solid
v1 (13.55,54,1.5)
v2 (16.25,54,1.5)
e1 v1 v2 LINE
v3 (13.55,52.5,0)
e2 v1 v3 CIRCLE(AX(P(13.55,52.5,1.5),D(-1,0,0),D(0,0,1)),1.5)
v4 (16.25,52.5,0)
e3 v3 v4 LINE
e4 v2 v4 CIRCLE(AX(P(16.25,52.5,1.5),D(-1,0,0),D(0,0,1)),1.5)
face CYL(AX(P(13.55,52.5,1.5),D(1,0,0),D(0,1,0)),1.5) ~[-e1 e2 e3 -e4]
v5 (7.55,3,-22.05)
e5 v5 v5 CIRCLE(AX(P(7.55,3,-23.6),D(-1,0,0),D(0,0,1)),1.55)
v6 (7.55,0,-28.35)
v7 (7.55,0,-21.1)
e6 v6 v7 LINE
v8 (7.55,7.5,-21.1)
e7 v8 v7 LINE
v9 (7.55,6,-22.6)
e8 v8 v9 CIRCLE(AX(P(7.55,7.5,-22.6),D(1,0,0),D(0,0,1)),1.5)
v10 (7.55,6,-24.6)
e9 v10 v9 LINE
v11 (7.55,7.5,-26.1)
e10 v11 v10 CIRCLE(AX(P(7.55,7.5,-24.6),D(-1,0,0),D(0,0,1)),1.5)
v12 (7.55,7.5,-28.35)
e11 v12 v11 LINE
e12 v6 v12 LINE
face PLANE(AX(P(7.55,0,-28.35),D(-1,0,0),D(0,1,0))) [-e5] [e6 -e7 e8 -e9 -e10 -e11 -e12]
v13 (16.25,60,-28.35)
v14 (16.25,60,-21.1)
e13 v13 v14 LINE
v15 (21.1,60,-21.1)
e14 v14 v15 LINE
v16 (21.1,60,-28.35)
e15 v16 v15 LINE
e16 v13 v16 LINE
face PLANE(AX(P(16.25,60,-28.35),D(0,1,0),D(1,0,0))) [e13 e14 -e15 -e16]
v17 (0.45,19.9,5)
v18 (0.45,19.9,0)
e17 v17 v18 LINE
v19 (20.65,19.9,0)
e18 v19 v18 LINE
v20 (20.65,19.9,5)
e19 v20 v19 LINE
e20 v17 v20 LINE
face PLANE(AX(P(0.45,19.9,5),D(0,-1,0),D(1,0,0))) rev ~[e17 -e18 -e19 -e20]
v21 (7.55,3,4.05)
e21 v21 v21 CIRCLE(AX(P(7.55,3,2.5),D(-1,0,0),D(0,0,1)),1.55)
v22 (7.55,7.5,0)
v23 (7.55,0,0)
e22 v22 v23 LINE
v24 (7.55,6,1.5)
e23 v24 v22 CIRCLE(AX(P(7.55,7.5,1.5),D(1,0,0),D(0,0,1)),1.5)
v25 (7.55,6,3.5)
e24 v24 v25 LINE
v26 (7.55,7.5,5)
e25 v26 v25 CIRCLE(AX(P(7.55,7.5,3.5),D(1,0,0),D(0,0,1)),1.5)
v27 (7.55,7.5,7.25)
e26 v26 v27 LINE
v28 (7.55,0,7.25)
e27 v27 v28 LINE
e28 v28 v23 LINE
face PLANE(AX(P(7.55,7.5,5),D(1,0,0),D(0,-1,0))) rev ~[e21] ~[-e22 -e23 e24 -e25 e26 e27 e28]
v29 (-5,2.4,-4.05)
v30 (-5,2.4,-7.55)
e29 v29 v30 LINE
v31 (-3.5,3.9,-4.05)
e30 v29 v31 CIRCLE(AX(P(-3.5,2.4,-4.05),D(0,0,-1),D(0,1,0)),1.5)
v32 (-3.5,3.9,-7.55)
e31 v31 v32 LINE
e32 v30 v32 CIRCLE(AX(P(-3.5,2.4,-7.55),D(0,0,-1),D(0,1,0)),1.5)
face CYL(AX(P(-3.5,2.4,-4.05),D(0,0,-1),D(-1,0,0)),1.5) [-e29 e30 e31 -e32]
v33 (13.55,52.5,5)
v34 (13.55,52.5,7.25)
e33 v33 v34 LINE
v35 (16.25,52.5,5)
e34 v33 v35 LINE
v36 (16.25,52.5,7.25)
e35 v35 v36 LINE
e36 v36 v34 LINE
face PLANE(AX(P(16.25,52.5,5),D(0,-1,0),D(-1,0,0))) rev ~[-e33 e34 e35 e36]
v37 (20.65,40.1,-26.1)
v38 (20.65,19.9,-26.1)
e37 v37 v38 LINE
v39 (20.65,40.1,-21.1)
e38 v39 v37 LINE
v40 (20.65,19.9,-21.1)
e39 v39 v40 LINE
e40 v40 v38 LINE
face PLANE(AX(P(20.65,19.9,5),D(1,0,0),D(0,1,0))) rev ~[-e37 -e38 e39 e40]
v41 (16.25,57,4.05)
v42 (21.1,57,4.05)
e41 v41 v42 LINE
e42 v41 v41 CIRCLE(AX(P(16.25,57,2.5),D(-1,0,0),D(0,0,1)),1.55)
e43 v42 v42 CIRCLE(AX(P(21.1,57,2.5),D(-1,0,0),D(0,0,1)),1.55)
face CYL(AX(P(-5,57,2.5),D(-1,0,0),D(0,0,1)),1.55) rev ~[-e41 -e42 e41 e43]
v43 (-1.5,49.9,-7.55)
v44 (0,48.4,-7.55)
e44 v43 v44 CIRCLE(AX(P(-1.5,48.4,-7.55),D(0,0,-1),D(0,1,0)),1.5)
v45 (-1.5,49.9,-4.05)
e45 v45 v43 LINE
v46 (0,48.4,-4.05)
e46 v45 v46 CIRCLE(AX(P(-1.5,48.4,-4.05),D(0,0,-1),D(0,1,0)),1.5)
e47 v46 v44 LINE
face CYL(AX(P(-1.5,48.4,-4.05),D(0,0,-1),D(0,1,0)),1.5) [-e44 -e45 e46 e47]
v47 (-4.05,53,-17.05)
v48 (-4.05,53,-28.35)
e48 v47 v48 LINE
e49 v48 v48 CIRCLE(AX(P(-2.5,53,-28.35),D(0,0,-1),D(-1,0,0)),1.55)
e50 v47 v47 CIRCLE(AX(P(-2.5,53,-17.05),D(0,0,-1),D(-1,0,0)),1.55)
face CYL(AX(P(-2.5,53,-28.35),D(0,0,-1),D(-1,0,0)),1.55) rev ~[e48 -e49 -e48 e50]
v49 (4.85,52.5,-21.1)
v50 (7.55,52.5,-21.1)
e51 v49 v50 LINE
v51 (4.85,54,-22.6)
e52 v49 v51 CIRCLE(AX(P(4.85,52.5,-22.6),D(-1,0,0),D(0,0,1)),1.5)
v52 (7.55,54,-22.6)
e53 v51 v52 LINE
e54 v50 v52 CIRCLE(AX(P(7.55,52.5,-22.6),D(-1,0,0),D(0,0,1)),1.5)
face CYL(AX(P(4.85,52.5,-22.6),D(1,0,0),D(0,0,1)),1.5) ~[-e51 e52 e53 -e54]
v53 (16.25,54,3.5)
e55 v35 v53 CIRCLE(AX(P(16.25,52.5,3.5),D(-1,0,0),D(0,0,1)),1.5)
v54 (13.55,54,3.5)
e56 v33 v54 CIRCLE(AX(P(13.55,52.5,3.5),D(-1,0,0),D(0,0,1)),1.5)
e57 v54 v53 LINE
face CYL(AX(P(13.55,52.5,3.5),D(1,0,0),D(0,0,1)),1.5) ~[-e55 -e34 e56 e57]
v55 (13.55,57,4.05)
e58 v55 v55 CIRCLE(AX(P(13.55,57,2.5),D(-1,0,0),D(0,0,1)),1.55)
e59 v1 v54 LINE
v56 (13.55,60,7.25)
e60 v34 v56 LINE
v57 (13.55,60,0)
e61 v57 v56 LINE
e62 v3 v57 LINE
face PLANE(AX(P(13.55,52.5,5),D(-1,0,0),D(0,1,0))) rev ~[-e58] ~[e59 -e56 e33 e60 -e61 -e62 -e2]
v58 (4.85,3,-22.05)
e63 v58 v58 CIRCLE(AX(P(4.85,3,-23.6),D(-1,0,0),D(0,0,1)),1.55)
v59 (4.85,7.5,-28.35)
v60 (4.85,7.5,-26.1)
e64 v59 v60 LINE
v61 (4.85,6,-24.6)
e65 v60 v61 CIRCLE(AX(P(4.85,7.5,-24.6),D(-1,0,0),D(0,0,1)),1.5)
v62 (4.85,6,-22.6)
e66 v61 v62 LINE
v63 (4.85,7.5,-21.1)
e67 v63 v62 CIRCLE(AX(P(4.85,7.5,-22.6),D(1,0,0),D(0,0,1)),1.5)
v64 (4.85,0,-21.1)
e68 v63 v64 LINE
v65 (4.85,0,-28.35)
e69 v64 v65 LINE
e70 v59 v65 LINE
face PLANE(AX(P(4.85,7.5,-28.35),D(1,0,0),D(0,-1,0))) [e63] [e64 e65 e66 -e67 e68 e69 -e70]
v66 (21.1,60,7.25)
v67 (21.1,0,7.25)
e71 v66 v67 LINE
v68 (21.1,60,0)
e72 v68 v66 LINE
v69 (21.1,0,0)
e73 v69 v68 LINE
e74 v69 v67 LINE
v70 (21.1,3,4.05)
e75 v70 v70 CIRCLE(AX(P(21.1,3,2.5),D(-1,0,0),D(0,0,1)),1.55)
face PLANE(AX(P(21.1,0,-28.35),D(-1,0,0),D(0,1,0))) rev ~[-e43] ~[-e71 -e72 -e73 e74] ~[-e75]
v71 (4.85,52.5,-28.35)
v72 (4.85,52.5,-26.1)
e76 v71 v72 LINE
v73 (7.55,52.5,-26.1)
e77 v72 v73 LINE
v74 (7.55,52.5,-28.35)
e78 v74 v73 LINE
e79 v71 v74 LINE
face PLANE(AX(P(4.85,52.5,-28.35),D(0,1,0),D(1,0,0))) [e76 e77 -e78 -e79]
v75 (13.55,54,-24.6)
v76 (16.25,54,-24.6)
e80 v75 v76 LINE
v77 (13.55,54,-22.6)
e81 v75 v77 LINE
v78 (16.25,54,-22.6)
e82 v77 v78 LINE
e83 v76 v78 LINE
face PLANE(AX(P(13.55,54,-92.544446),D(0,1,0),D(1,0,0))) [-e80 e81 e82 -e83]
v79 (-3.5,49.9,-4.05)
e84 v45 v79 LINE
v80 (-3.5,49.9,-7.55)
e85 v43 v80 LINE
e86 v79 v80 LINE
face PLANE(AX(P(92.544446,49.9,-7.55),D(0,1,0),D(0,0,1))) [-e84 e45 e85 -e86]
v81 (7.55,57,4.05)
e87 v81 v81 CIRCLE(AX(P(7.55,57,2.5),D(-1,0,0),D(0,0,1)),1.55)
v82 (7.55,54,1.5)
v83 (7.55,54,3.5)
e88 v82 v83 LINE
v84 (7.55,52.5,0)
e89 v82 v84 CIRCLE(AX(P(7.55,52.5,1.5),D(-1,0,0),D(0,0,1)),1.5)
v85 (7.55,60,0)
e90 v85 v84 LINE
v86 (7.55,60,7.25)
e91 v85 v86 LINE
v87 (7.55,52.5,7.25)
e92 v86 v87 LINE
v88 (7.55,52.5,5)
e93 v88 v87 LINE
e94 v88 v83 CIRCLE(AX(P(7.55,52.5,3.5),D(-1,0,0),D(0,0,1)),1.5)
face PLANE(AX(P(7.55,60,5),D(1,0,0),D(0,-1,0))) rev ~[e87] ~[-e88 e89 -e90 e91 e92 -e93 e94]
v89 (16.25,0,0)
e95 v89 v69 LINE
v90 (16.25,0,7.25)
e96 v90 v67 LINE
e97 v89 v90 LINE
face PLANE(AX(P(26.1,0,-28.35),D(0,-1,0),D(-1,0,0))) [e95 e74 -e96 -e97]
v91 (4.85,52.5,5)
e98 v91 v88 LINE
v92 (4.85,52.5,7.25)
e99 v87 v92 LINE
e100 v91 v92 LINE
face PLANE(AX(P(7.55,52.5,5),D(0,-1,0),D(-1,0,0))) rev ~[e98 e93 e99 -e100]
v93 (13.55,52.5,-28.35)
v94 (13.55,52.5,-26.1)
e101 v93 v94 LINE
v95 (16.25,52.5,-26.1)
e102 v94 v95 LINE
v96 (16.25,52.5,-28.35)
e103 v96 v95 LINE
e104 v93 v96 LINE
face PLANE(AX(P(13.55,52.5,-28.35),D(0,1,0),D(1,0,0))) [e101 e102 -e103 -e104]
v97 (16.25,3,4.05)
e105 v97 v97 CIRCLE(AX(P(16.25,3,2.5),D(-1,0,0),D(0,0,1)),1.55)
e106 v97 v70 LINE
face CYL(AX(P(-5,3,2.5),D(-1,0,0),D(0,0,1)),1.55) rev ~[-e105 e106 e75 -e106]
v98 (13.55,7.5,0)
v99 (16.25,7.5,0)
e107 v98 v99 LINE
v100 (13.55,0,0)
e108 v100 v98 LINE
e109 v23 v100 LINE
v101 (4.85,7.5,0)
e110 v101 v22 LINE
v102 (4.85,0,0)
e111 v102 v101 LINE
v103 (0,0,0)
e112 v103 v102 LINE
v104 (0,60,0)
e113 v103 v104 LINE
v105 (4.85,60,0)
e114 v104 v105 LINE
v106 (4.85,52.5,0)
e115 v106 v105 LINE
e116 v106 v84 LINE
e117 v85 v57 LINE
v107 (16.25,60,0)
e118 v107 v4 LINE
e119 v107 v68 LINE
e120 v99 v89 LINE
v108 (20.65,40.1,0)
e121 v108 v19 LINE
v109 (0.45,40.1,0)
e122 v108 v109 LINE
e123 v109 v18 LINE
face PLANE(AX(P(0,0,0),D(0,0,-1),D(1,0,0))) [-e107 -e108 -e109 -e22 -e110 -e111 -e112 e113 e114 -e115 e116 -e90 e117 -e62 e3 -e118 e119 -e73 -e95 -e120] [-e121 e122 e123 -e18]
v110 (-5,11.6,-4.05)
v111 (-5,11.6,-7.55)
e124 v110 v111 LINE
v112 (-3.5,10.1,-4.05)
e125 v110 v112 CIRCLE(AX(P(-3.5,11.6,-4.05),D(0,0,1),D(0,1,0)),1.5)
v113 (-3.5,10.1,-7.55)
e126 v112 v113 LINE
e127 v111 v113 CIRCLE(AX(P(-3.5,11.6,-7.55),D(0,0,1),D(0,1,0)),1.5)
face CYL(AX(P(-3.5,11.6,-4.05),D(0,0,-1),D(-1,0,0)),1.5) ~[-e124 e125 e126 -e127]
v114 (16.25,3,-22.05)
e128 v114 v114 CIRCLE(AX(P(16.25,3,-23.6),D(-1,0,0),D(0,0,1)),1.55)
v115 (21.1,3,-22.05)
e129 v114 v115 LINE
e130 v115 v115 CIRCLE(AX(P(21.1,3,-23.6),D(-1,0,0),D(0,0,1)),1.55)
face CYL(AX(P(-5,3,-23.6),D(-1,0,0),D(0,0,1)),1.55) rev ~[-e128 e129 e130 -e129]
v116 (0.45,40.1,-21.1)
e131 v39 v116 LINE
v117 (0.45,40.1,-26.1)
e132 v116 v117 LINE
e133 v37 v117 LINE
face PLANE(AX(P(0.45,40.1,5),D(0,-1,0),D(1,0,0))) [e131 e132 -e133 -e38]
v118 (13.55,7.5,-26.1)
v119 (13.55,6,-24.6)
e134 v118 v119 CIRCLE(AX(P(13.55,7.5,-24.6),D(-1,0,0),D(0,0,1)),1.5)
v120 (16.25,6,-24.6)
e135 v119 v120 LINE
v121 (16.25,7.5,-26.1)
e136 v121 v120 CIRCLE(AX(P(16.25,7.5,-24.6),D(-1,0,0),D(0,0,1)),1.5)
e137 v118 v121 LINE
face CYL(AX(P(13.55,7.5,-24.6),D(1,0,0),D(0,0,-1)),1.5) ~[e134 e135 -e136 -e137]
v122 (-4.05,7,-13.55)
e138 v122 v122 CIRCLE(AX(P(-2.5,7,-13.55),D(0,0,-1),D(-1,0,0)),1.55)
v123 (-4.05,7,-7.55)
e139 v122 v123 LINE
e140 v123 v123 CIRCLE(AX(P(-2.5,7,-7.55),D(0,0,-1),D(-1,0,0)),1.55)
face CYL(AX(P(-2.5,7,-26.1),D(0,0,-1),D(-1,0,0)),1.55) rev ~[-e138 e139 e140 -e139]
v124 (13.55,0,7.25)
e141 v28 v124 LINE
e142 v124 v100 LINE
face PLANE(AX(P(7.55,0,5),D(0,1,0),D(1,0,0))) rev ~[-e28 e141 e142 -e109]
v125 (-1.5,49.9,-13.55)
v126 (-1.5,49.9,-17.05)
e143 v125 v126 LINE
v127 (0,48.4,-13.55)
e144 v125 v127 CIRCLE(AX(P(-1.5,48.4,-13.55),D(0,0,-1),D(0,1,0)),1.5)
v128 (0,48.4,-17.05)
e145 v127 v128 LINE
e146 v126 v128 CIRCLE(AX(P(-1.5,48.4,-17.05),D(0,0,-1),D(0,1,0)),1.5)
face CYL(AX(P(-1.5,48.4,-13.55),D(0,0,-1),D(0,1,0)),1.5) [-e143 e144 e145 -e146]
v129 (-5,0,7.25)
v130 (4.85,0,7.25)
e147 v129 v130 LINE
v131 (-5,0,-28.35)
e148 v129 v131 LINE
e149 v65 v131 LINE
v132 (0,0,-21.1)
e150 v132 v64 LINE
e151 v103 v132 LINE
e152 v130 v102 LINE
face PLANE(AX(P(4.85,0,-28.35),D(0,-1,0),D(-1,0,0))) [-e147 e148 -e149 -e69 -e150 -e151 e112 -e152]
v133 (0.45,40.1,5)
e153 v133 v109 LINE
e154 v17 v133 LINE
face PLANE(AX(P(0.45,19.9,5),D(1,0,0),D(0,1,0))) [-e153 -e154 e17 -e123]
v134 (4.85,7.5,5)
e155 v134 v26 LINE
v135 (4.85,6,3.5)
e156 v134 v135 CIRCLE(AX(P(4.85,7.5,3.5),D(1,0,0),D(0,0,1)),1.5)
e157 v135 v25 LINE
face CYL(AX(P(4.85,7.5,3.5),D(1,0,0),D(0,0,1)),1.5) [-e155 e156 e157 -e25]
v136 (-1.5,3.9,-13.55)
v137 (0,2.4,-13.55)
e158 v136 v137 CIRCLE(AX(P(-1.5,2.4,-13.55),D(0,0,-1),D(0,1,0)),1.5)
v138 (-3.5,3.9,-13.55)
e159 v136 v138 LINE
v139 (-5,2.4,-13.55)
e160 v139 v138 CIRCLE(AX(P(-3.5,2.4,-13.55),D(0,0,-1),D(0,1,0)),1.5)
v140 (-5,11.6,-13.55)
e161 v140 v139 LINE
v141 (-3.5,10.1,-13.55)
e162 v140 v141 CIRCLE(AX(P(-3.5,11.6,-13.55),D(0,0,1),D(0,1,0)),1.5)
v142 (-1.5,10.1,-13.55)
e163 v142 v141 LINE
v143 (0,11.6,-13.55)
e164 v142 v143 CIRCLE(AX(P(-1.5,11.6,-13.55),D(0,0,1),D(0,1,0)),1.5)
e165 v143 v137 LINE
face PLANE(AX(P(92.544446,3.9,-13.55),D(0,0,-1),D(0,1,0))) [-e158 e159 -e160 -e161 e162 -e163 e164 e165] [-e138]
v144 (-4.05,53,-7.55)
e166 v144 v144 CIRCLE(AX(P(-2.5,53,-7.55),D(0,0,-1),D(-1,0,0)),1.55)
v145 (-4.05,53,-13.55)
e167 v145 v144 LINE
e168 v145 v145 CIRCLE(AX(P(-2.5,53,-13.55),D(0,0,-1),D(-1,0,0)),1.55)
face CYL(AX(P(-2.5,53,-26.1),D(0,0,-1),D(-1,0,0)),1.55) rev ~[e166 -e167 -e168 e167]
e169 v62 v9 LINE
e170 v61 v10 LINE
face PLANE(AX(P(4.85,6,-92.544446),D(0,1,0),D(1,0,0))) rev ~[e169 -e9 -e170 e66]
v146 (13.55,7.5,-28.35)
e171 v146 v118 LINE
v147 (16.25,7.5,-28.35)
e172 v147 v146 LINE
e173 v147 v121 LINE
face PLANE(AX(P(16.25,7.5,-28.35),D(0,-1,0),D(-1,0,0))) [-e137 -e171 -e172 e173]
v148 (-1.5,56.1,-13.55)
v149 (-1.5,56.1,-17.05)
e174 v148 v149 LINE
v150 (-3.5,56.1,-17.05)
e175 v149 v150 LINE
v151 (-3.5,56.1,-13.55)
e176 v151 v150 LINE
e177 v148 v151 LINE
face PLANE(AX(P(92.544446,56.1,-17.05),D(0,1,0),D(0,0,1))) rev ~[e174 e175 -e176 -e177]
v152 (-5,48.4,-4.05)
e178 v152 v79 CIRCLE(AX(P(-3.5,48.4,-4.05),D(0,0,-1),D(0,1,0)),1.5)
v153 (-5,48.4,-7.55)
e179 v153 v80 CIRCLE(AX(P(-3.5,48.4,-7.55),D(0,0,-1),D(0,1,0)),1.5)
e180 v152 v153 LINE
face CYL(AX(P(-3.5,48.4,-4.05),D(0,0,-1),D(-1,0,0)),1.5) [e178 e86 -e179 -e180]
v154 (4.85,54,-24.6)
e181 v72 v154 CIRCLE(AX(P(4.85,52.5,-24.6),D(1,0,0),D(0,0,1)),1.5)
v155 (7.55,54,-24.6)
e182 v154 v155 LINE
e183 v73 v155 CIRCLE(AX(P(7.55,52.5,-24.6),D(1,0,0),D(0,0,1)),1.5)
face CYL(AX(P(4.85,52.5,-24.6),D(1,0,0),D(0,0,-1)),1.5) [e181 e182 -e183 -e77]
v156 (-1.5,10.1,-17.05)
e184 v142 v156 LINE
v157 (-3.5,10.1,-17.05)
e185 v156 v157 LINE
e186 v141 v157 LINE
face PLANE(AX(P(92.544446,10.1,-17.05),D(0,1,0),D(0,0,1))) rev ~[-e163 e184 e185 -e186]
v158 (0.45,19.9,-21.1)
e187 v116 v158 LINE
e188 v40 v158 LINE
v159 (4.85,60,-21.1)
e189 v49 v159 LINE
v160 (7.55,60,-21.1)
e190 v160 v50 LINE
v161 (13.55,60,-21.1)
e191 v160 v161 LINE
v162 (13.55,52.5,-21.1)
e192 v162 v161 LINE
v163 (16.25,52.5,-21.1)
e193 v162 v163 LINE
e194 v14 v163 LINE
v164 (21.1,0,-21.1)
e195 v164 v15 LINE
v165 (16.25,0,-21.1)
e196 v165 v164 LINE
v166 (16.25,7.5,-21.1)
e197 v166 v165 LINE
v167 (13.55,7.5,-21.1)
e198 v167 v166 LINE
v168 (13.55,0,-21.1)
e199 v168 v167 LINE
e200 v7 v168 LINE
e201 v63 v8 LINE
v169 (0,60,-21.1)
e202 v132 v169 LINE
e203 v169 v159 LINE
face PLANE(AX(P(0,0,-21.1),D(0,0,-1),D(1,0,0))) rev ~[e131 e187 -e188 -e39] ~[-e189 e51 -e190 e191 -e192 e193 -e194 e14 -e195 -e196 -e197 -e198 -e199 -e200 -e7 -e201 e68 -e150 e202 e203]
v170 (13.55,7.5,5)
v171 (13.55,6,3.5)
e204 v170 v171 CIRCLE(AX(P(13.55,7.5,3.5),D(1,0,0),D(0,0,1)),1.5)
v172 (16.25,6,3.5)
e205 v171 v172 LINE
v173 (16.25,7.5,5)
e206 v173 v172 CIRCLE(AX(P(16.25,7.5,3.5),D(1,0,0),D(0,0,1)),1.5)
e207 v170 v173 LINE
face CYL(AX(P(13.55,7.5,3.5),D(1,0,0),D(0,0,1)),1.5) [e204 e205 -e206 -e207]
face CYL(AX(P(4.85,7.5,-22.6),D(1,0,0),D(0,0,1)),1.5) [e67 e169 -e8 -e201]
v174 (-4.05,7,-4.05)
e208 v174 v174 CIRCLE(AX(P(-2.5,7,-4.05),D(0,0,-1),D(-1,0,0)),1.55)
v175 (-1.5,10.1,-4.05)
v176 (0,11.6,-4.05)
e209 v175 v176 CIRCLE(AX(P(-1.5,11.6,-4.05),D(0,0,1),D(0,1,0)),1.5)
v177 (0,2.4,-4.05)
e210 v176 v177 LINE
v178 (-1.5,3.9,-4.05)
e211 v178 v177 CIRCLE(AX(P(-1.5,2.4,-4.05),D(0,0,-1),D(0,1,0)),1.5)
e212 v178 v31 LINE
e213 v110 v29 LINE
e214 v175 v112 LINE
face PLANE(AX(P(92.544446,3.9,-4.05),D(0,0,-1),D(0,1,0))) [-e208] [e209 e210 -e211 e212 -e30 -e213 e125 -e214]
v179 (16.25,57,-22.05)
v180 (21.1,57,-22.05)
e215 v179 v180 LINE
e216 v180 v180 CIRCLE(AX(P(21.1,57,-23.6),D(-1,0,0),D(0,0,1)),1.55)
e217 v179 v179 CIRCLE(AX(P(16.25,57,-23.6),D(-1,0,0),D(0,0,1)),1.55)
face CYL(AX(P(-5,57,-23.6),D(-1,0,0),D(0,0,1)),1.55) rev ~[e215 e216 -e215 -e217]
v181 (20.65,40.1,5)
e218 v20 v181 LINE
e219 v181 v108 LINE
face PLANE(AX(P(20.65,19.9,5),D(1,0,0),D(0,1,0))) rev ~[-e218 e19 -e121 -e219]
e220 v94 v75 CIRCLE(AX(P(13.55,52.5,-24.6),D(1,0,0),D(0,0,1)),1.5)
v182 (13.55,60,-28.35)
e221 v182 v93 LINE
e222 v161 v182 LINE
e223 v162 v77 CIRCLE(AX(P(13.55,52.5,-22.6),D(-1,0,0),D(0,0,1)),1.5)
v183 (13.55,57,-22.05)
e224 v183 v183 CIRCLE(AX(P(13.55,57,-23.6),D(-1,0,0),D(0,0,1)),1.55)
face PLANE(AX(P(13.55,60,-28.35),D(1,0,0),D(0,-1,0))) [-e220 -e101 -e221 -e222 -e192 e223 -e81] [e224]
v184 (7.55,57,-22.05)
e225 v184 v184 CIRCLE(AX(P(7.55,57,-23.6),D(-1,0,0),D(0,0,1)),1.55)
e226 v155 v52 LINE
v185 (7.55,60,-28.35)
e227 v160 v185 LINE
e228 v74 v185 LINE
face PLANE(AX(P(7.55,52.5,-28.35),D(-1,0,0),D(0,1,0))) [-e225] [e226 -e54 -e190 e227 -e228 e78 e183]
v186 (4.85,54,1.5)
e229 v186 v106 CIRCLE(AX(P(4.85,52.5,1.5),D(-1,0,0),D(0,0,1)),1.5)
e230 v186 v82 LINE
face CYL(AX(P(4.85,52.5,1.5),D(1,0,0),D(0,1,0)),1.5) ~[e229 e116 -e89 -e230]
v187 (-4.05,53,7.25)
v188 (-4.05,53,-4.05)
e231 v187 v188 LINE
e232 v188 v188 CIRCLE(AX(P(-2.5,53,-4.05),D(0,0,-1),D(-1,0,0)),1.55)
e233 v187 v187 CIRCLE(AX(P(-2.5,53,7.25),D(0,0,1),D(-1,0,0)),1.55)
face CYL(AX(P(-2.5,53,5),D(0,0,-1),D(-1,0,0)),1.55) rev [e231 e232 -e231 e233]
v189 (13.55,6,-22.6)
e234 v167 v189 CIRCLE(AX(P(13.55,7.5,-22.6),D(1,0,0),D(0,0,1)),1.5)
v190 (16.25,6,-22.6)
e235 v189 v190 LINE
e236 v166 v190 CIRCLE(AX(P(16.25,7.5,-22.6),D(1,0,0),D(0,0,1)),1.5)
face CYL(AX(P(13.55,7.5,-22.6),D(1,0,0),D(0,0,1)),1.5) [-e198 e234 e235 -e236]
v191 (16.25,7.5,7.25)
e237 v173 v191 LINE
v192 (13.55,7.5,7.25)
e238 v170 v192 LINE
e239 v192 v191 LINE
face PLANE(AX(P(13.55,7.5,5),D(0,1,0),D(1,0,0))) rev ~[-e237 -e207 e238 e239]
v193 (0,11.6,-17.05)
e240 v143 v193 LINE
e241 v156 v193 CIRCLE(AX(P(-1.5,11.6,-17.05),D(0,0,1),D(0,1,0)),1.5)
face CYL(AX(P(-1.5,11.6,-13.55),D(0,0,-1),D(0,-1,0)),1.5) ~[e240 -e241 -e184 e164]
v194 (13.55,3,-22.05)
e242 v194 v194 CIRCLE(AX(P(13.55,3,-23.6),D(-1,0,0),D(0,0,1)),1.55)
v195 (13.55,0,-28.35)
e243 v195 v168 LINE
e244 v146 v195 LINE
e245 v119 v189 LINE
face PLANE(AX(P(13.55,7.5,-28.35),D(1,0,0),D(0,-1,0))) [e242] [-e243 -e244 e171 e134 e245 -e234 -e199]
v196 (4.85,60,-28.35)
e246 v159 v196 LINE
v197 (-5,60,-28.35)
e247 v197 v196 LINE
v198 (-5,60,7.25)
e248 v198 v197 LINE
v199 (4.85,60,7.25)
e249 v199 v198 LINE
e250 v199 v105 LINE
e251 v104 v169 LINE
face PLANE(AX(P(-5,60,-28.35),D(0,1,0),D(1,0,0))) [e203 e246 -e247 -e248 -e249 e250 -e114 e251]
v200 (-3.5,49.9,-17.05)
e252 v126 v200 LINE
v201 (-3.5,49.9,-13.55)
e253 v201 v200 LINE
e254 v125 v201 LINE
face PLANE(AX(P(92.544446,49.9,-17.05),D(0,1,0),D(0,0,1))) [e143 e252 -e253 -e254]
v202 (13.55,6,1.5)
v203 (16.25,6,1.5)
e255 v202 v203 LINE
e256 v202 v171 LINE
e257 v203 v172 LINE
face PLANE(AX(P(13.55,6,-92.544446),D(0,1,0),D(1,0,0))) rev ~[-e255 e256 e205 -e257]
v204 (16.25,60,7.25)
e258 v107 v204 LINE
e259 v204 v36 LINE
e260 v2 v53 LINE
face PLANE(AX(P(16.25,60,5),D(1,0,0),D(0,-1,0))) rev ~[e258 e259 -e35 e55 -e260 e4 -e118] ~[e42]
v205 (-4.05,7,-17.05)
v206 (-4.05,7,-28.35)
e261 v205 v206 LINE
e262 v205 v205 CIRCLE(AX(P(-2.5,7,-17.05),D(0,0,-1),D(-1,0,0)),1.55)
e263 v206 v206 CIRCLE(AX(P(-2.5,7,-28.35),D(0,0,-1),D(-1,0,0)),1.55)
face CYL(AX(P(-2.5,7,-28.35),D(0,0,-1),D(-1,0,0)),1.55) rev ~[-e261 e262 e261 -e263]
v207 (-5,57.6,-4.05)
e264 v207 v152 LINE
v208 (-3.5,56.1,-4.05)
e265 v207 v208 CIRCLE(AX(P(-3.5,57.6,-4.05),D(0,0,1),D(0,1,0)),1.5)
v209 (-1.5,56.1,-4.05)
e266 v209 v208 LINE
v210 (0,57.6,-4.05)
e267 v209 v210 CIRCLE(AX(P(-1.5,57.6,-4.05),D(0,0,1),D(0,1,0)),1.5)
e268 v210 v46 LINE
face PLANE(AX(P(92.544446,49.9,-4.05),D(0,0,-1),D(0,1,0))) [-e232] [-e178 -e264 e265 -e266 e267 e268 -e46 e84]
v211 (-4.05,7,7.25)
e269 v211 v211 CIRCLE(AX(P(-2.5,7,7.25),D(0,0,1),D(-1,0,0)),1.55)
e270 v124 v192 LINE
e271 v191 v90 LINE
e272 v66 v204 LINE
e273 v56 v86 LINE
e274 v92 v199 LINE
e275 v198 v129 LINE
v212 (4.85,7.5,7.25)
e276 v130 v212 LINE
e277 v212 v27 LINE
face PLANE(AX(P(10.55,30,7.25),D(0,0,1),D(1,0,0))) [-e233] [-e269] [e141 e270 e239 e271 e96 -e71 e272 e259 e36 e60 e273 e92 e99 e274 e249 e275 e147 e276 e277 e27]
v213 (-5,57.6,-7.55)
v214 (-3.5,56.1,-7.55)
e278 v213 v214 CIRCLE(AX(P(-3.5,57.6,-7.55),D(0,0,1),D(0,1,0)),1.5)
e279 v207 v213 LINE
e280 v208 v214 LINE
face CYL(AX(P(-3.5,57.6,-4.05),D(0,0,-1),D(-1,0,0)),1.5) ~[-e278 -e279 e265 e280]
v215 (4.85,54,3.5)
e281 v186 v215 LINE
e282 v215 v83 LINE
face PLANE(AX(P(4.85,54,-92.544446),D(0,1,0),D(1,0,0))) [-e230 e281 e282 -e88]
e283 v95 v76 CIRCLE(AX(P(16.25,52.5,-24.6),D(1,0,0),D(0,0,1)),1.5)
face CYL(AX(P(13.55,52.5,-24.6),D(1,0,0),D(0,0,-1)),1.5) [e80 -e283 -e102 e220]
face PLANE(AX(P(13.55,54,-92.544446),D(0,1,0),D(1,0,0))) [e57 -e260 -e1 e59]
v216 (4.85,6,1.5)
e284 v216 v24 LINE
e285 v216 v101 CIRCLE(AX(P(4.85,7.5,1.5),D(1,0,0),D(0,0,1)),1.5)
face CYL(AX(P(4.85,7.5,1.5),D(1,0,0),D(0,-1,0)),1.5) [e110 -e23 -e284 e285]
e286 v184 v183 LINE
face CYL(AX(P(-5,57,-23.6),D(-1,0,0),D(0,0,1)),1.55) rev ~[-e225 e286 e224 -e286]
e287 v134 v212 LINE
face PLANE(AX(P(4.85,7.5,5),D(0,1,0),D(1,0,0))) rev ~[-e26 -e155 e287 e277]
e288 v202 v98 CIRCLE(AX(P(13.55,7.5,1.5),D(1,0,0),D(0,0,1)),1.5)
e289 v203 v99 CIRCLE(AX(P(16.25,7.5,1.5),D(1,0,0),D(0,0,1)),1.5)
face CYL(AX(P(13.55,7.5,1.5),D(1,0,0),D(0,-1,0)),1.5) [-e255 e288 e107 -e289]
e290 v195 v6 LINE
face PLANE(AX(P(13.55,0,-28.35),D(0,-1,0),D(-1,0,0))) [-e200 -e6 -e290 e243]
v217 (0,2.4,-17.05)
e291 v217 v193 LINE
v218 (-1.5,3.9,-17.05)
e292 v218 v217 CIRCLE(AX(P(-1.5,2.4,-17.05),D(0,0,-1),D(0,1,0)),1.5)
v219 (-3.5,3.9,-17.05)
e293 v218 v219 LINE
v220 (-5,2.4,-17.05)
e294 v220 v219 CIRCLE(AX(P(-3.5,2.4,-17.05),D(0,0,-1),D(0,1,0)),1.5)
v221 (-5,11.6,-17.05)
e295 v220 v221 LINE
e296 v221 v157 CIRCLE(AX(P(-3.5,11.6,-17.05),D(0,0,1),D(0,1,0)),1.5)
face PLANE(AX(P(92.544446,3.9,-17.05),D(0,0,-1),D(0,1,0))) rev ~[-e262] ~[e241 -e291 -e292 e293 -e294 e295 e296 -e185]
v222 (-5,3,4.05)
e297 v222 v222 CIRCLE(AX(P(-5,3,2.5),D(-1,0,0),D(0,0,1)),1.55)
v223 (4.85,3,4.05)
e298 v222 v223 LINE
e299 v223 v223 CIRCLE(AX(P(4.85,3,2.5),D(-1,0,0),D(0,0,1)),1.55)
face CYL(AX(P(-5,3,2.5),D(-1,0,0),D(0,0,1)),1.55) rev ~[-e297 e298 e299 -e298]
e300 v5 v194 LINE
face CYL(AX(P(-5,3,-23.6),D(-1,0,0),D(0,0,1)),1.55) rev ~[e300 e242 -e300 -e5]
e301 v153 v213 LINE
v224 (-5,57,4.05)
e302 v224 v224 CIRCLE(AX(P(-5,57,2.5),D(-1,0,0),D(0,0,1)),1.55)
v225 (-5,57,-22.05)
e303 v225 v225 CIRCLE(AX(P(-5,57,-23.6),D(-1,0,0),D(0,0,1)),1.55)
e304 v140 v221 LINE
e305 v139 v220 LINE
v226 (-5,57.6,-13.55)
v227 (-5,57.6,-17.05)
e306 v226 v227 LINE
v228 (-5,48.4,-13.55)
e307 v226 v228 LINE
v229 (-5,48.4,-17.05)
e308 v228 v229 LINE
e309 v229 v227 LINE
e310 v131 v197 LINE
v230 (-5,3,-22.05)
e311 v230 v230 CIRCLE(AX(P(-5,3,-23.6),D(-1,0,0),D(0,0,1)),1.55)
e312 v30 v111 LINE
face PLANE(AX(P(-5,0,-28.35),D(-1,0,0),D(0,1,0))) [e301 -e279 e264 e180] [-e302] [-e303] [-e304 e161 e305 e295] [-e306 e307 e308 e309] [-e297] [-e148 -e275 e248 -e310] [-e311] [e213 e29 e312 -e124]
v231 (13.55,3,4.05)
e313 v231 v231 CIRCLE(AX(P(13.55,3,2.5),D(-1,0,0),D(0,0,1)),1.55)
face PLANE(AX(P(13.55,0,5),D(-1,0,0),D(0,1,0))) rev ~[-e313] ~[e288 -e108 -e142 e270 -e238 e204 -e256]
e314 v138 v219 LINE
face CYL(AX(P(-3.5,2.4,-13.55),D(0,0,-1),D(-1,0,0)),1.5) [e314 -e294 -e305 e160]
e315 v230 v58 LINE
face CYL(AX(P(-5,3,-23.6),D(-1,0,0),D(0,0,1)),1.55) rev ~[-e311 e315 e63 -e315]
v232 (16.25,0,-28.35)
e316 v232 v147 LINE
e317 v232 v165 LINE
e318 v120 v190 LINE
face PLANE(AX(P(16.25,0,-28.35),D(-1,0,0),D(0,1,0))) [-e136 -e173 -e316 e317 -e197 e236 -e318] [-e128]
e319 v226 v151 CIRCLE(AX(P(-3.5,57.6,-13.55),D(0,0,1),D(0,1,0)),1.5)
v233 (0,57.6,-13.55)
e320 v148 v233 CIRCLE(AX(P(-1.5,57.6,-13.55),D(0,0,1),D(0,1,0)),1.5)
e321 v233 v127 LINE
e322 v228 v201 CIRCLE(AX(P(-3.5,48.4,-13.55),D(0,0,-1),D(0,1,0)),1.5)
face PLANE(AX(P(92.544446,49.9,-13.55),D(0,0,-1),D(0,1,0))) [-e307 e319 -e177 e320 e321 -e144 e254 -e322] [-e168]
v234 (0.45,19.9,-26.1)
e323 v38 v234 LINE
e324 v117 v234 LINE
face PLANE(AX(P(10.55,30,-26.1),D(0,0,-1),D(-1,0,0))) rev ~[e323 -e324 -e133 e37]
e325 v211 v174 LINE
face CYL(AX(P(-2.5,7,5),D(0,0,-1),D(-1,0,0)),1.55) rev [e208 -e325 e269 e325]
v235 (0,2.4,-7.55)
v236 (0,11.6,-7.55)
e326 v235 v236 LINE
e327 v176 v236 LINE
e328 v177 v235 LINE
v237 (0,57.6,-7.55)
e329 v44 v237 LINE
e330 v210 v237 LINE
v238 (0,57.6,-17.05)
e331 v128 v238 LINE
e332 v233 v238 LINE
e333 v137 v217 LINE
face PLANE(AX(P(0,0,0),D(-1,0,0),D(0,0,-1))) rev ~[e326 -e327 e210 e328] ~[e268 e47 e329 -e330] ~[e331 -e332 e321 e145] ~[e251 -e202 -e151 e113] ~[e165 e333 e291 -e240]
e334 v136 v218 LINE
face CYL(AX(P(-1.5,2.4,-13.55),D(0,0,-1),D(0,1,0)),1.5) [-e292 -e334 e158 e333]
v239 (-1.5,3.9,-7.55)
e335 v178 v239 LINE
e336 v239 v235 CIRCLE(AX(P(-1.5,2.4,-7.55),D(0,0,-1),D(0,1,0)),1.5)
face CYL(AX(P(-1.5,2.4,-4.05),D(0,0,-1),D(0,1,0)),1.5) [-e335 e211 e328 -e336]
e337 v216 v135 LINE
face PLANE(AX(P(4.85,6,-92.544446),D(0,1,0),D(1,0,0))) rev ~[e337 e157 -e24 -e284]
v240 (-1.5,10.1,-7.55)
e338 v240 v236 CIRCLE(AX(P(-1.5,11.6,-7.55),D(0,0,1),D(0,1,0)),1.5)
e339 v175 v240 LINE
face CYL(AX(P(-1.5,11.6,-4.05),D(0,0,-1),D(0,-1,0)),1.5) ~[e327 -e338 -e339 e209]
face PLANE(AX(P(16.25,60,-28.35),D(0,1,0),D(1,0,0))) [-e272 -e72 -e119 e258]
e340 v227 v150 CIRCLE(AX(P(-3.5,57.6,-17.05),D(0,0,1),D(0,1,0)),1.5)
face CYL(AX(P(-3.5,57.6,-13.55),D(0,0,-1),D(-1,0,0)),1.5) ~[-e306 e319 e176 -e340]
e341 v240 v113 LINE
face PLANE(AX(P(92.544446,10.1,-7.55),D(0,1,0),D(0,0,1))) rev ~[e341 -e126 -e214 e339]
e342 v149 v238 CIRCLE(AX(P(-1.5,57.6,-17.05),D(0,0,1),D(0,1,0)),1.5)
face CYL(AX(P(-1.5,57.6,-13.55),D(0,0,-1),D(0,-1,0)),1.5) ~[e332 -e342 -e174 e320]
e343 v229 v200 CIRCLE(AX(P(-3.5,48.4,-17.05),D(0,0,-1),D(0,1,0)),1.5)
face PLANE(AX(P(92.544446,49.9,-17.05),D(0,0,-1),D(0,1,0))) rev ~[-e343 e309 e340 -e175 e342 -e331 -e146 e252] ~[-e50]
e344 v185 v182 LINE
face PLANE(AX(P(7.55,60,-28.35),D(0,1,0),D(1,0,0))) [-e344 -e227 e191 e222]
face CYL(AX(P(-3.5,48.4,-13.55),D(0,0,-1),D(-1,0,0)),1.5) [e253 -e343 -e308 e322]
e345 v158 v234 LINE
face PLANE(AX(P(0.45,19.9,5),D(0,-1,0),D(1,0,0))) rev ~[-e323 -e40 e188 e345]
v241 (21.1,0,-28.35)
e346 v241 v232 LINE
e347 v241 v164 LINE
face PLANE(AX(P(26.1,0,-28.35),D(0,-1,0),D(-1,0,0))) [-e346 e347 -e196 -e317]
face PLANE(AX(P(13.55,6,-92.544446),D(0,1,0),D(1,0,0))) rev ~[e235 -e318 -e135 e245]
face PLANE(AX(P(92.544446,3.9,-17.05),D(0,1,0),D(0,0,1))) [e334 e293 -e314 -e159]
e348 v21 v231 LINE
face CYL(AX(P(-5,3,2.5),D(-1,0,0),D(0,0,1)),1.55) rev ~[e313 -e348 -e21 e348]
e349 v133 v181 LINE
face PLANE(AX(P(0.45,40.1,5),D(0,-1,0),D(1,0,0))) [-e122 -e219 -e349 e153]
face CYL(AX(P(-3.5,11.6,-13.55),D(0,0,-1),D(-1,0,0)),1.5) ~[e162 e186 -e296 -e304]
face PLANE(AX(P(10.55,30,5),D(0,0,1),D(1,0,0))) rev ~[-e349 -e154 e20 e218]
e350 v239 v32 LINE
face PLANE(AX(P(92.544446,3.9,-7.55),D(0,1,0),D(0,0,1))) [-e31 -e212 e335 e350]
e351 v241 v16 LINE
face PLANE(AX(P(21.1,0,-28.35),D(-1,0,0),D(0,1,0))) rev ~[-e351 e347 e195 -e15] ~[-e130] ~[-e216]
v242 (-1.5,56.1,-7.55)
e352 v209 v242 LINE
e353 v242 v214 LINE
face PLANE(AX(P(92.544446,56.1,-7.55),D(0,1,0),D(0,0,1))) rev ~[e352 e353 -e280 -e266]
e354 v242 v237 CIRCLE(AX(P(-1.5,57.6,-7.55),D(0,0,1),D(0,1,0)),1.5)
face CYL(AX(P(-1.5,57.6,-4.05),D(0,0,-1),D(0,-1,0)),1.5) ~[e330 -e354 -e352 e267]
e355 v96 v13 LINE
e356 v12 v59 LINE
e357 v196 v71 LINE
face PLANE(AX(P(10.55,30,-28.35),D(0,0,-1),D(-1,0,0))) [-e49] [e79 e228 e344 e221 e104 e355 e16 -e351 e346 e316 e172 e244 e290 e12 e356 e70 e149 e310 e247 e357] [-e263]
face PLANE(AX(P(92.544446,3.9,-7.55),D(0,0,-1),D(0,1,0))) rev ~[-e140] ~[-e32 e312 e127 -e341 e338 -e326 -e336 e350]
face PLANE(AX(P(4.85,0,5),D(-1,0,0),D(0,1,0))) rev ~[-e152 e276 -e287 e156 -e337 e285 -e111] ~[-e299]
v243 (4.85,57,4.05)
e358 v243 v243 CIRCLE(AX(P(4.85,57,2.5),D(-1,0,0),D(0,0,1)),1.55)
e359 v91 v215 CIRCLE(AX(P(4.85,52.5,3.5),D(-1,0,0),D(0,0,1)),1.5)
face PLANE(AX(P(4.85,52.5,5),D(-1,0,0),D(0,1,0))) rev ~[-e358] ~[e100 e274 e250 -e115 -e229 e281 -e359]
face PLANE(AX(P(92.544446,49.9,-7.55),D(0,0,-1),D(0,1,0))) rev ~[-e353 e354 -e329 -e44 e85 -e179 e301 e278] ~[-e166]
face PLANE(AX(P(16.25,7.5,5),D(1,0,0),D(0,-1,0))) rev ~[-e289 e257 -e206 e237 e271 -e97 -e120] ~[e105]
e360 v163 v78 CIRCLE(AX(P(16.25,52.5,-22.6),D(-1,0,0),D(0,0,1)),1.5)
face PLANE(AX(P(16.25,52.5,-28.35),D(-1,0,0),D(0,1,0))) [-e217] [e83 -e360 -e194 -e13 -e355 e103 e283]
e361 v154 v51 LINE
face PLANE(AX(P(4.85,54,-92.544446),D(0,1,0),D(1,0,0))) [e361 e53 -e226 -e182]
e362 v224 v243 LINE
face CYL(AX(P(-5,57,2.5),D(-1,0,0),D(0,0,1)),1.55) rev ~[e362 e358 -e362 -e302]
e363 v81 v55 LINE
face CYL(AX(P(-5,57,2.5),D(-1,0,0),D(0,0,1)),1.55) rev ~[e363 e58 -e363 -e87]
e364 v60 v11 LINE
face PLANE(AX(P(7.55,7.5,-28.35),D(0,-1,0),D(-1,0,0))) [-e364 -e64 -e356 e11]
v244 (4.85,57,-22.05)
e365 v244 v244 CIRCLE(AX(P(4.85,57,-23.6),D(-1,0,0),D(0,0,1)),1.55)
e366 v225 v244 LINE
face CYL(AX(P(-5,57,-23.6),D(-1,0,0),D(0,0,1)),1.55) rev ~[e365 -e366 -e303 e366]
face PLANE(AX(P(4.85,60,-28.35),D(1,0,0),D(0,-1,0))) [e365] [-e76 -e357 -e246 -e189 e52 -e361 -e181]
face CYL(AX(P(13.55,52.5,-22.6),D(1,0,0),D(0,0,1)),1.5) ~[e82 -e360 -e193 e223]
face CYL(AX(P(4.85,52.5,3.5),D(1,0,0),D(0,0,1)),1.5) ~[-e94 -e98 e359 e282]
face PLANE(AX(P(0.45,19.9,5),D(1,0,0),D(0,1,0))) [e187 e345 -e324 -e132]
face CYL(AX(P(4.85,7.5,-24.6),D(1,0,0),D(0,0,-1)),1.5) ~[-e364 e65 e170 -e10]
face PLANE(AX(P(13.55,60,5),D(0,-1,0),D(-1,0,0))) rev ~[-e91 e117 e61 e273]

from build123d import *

# Parameters (mm, degrees)
SKETCH_1_W               = 31.1
SKETCH_1_H               = 31.1
SKETCH_1_W_2             = 21.1
SKETCH_1_H_2             = 21.1
EXTRUDE_1_DEPTH          = 60
SKETCH_2_R               = 1.55
CUT_EXTRUDE_1_DEPTH      = 73.445979875
CUT_EXTRUDE_2_DEPTH      = 71.444446197
CUT_EXTRUDE_2_DEPTH_BACK = 71.444446197
SKETCH_3_W               = 2.7
SKETCH_3_H               = 6
SKETCH_4_R               = 1.55
CUT_EXTRUDE_3_DEPTH      = 73.445979875
CUT_EXTRUDE_4_DEPTH      = 71.444446197
CUT_EXTRUDE_4_DEPTH_BACK = 71.444446197
SKETCH_5_W               = 3.5
SKETCH_5_H               = 6.2
FILLET_1_R               = 1.5
SKETCH_6_W               = 20.2
SKETCH_6_H               = 20.2
CUT_EXTRUDE_5_DEPTH      = 73.445979875
SKETCH_7_R               = 1.55
EXTRUDE_2_DEPTH          = 2.25
EXTRUDE_START            = 2.25
SKETCH_8_R               = 1.55
EXTRUDE_3_DEPTH          = 2.25
SKETCH_9_W               = 5
SKETCH_9_H               = 60
CUT_EXTRUDE_6_DEPTH      = 75.488723979


with BuildPart() as part:
    # 草图1 → 凸台-拉伸1 (new body)
    with BuildSketch(Plane(origin=(0, 0, 0), x_dir=(1, 0, 0), z_dir=(0, 1, 0))):
        with Locations((10.55, 10.55)):
            Rectangle(SKETCH_1_W, SKETCH_1_H)
        with Locations((10.55, 10.55)):
            Rectangle(SKETCH_1_W_2, SKETCH_1_H_2, mode=Mode.SUBTRACT)
    extrude(amount=EXTRUDE_1_DEPTH)

    # 草图2 → 切除-拉伸1 (cut, through all)
    with BuildSketch(Plane.ZY.offset(5)):
        with Locations((-23.6, 57)):
            Circle(SKETCH_2_R)
        with Locations((-23.6, 3)):
            Circle(SKETCH_2_R)
        with Locations((2.5, 3)):
            Circle(SKETCH_2_R)
        with Locations((2.5, 57)):
            Circle(SKETCH_2_R)
    extrude(amount=-CUT_EXTRUDE_1_DEPTH, mode=Mode.SUBTRACT)

    # 草图3 → 切除-拉伸2 (cut, two sides: drawn at the far end of the back side and taken through both)
    with BuildSketch(Plane.XY.offset(-21.1).offset(-CUT_EXTRUDE_2_DEPTH_BACK)):
        with Locations((6.2, 57)):
            Rectangle(SKETCH_3_W, SKETCH_3_H)
        with Locations((14.9, 57)):
            Rectangle(SKETCH_3_W, SKETCH_3_H)
        with Locations((14.9, 3)):
            Rectangle(SKETCH_3_W, SKETCH_3_H)
        with Locations((6.2, 3)):
            Rectangle(SKETCH_3_W, SKETCH_3_H)
    extrude(amount=CUT_EXTRUDE_2_DEPTH + CUT_EXTRUDE_2_DEPTH_BACK, mode=Mode.SUBTRACT)

    # 草图4 → 切除-拉伸3 (cut, through all)
    with BuildSketch(Plane(origin=(0, 0, -26.1), x_dir=(-1, 0, 0), z_dir=(0, 0, -1))):
        with Locations((-23.6, 53)):
            Circle(SKETCH_4_R)
        with Locations((2.5, 53)):
            Circle(SKETCH_4_R)
        with Locations((2.5, 7)):
            Circle(SKETCH_4_R)
        with Locations((-23.6, 7)):
            Circle(SKETCH_4_R)
    extrude(amount=-CUT_EXTRUDE_3_DEPTH, mode=Mode.SUBTRACT)

    # 草图5 → 切除-拉伸4 (cut, two sides: drawn at the far end of the back side and taken through both)
    with BuildSketch(Plane.ZY.offset(-21.1).offset(-CUT_EXTRUDE_4_DEPTH_BACK)):
        with Locations((-15.3, 53)):
            Rectangle(SKETCH_5_W, SKETCH_5_H)
        with Locations((-5.8, 53)):
            Rectangle(SKETCH_5_W, SKETCH_5_H)
        with Locations((-5.8, 7)):
            Rectangle(SKETCH_5_W, SKETCH_5_H)
        with Locations((-15.3, 7)):
            Rectangle(SKETCH_5_W, SKETCH_5_H)
    extrude(amount=CUT_EXTRUDE_4_DEPTH + CUT_EXTRUDE_4_DEPTH_BACK, mode=Mode.SUBTRACT)

    # 圆角1
    fillet_1_edges = [part.edges().sort_by_distance(p)[0] for p in [
        (14.9, 6, 0),
        (14.9, 6, -26.1),
        (14.9, 6, 5),
        (14.9, 54, 0),
        (14.9, 54, -26.1),
        (14.9, 54, 5),
        (6.2, 54, 0),
        (6.2, 54, -26.1),
        (6.2, 54, 5),
        (21.1, 49.9, -15.3),
        (21.1, 56.1, -15.3),
        (21.1, 49.9, -5.8),
        (21.1, 56.1, -5.8),
        (21.1, 10.1, -5.8),
        (21.1, 3.9, -5.8),
        (21.1, 10.1, -15.3),
        (21.1, 3.9, -15.3),
        (0, 3.9, -15.3),
        (0, 10.1, -15.3),
        (26.1, 3.9, -15.3),
        (26.1, 10.1, -15.3),
        (-5, 3.9, -15.3),
        (-5, 10.1, -15.3),
        (0, 3.9, -5.8),
        (0, 10.1, -5.8),
        (26.1, 3.9, -5.8),
        (26.1, 10.1, -5.8),
        (-5, 3.9, -5.8),
        (-5, 10.1, -5.8),
        (0, 56.1, -5.8),
        (0, 49.9, -5.8),
        (26.1, 56.1, -5.8),
        (26.1, 49.9, -5.8),
        (-5, 49.9, -5.8),
        (-5, 56.1, -5.8),
        (0, 56.1, -15.3),
        (0, 49.9, -15.3),
        (26.1, 56.1, -15.3),
        (26.1, 49.9, -15.3),
        (-5, 49.9, -15.3),
        (-5, 56.1, -15.3),
        (6.2, 54, -21.1),
        (14.9, 54, -21.1),
        (14.9, 6, -21.1),
        (6.2, 6, -21.1),
        (6.2, 6, 0),
        (6.2, 6, -26.1),
        (6.2, 6, 5),
    ]]
    fillet(fillet_1_edges, radius=FILLET_1_R)

    # 草图6 → 切除-拉伸5 (cut, through all)
    with BuildSketch(Plane.XY.offset(5)):
        with Locations((10.55, 30)):
            Rectangle(SKETCH_6_W, SKETCH_6_H)
    extrude(amount=-CUT_EXTRUDE_5_DEPTH, mode=Mode.SUBTRACT)

    # 草图7 → 凸台-拉伸2 (add)
    with BuildSketch(Plane.XY.offset(5)):
        Polygon((13.55, 0), (13.55, 7.5), (16.25, 7.5), (16.25, 0), (26.1, 0), (26.1, 60), (16.25, 60), (16.25, 52.5), (13.55, 52.5), (13.55, 60), (7.55, 60), (7.55, 52.5), (4.85, 52.5), (4.85, 60), (-5, 60), (-5, 0), (4.85, 0), (4.85, 7.5), (7.55, 7.5), (7.55, 0), align=None)
        with Locations(Location((23.6, 7, 0), (0, 0, 180))):
            Circle(SKETCH_7_R, mode=Mode.SUBTRACT)
        with Locations(Location((23.6, 53, 0), (0, 0, 180))):
            Circle(SKETCH_7_R, mode=Mode.SUBTRACT)
        with Locations(Location((-2.5, 53, 0), (0, 0, 180))):
            Circle(SKETCH_7_R, mode=Mode.SUBTRACT)
        with Locations(Location((-2.5, 7, 0), (0, 0, 180))):
            Circle(SKETCH_7_R, mode=Mode.SUBTRACT)
    extrude(amount=EXTRUDE_2_DEPTH)

    # 草图8 → 凸台-拉伸3 (add)
    with BuildSketch(Plane(origin=(0, 0, -26.1), x_dir=(-1, 0, 0), z_dir=(0, 0, -1)).offset(EXTRUDE_START)):
        Polygon((-7.55, 7.5), (-4.85, 7.5), (-4.85, 0), (5, 0), (5, 60), (-4.85, 60), (-4.85, 52.5), (-7.55, 52.5), (-7.55, 60), (-13.55, 60), (-13.55, 52.5), (-16.25, 52.5), (-16.25, 60), (-26.1, 60), (-26.1, 0), (-16.25, 0), (-16.25, 7.5), (-13.55, 7.5), (-13.55, 0), (-7.55, 0), align=None)
        with Locations((-23.6, 7)):
            Circle(SKETCH_8_R, mode=Mode.SUBTRACT)
        with Locations((2.5, 7)):
            Circle(SKETCH_8_R, mode=Mode.SUBTRACT)
        with Locations((2.5, 53)):
            Circle(SKETCH_8_R, mode=Mode.SUBTRACT)
        with Locations((-23.6, 53)):
            Circle(SKETCH_8_R, mode=Mode.SUBTRACT)
    extrude(amount=-EXTRUDE_3_DEPTH)

    # 草图9 → 切除-拉伸6 (cut, through all)
    with BuildSketch(Plane(origin=(0, 0, -28.35), x_dir=(-1, 0, 0), z_dir=(0, 0, -1))):
        with Locations((-23.6, 30)):
            Rectangle(SKETCH_9_W, SKETCH_9_H)
    extrude(amount=-CUT_EXTRUDE_6_DEPTH, mode=Mode.SUBTRACT)


solid = part.part
